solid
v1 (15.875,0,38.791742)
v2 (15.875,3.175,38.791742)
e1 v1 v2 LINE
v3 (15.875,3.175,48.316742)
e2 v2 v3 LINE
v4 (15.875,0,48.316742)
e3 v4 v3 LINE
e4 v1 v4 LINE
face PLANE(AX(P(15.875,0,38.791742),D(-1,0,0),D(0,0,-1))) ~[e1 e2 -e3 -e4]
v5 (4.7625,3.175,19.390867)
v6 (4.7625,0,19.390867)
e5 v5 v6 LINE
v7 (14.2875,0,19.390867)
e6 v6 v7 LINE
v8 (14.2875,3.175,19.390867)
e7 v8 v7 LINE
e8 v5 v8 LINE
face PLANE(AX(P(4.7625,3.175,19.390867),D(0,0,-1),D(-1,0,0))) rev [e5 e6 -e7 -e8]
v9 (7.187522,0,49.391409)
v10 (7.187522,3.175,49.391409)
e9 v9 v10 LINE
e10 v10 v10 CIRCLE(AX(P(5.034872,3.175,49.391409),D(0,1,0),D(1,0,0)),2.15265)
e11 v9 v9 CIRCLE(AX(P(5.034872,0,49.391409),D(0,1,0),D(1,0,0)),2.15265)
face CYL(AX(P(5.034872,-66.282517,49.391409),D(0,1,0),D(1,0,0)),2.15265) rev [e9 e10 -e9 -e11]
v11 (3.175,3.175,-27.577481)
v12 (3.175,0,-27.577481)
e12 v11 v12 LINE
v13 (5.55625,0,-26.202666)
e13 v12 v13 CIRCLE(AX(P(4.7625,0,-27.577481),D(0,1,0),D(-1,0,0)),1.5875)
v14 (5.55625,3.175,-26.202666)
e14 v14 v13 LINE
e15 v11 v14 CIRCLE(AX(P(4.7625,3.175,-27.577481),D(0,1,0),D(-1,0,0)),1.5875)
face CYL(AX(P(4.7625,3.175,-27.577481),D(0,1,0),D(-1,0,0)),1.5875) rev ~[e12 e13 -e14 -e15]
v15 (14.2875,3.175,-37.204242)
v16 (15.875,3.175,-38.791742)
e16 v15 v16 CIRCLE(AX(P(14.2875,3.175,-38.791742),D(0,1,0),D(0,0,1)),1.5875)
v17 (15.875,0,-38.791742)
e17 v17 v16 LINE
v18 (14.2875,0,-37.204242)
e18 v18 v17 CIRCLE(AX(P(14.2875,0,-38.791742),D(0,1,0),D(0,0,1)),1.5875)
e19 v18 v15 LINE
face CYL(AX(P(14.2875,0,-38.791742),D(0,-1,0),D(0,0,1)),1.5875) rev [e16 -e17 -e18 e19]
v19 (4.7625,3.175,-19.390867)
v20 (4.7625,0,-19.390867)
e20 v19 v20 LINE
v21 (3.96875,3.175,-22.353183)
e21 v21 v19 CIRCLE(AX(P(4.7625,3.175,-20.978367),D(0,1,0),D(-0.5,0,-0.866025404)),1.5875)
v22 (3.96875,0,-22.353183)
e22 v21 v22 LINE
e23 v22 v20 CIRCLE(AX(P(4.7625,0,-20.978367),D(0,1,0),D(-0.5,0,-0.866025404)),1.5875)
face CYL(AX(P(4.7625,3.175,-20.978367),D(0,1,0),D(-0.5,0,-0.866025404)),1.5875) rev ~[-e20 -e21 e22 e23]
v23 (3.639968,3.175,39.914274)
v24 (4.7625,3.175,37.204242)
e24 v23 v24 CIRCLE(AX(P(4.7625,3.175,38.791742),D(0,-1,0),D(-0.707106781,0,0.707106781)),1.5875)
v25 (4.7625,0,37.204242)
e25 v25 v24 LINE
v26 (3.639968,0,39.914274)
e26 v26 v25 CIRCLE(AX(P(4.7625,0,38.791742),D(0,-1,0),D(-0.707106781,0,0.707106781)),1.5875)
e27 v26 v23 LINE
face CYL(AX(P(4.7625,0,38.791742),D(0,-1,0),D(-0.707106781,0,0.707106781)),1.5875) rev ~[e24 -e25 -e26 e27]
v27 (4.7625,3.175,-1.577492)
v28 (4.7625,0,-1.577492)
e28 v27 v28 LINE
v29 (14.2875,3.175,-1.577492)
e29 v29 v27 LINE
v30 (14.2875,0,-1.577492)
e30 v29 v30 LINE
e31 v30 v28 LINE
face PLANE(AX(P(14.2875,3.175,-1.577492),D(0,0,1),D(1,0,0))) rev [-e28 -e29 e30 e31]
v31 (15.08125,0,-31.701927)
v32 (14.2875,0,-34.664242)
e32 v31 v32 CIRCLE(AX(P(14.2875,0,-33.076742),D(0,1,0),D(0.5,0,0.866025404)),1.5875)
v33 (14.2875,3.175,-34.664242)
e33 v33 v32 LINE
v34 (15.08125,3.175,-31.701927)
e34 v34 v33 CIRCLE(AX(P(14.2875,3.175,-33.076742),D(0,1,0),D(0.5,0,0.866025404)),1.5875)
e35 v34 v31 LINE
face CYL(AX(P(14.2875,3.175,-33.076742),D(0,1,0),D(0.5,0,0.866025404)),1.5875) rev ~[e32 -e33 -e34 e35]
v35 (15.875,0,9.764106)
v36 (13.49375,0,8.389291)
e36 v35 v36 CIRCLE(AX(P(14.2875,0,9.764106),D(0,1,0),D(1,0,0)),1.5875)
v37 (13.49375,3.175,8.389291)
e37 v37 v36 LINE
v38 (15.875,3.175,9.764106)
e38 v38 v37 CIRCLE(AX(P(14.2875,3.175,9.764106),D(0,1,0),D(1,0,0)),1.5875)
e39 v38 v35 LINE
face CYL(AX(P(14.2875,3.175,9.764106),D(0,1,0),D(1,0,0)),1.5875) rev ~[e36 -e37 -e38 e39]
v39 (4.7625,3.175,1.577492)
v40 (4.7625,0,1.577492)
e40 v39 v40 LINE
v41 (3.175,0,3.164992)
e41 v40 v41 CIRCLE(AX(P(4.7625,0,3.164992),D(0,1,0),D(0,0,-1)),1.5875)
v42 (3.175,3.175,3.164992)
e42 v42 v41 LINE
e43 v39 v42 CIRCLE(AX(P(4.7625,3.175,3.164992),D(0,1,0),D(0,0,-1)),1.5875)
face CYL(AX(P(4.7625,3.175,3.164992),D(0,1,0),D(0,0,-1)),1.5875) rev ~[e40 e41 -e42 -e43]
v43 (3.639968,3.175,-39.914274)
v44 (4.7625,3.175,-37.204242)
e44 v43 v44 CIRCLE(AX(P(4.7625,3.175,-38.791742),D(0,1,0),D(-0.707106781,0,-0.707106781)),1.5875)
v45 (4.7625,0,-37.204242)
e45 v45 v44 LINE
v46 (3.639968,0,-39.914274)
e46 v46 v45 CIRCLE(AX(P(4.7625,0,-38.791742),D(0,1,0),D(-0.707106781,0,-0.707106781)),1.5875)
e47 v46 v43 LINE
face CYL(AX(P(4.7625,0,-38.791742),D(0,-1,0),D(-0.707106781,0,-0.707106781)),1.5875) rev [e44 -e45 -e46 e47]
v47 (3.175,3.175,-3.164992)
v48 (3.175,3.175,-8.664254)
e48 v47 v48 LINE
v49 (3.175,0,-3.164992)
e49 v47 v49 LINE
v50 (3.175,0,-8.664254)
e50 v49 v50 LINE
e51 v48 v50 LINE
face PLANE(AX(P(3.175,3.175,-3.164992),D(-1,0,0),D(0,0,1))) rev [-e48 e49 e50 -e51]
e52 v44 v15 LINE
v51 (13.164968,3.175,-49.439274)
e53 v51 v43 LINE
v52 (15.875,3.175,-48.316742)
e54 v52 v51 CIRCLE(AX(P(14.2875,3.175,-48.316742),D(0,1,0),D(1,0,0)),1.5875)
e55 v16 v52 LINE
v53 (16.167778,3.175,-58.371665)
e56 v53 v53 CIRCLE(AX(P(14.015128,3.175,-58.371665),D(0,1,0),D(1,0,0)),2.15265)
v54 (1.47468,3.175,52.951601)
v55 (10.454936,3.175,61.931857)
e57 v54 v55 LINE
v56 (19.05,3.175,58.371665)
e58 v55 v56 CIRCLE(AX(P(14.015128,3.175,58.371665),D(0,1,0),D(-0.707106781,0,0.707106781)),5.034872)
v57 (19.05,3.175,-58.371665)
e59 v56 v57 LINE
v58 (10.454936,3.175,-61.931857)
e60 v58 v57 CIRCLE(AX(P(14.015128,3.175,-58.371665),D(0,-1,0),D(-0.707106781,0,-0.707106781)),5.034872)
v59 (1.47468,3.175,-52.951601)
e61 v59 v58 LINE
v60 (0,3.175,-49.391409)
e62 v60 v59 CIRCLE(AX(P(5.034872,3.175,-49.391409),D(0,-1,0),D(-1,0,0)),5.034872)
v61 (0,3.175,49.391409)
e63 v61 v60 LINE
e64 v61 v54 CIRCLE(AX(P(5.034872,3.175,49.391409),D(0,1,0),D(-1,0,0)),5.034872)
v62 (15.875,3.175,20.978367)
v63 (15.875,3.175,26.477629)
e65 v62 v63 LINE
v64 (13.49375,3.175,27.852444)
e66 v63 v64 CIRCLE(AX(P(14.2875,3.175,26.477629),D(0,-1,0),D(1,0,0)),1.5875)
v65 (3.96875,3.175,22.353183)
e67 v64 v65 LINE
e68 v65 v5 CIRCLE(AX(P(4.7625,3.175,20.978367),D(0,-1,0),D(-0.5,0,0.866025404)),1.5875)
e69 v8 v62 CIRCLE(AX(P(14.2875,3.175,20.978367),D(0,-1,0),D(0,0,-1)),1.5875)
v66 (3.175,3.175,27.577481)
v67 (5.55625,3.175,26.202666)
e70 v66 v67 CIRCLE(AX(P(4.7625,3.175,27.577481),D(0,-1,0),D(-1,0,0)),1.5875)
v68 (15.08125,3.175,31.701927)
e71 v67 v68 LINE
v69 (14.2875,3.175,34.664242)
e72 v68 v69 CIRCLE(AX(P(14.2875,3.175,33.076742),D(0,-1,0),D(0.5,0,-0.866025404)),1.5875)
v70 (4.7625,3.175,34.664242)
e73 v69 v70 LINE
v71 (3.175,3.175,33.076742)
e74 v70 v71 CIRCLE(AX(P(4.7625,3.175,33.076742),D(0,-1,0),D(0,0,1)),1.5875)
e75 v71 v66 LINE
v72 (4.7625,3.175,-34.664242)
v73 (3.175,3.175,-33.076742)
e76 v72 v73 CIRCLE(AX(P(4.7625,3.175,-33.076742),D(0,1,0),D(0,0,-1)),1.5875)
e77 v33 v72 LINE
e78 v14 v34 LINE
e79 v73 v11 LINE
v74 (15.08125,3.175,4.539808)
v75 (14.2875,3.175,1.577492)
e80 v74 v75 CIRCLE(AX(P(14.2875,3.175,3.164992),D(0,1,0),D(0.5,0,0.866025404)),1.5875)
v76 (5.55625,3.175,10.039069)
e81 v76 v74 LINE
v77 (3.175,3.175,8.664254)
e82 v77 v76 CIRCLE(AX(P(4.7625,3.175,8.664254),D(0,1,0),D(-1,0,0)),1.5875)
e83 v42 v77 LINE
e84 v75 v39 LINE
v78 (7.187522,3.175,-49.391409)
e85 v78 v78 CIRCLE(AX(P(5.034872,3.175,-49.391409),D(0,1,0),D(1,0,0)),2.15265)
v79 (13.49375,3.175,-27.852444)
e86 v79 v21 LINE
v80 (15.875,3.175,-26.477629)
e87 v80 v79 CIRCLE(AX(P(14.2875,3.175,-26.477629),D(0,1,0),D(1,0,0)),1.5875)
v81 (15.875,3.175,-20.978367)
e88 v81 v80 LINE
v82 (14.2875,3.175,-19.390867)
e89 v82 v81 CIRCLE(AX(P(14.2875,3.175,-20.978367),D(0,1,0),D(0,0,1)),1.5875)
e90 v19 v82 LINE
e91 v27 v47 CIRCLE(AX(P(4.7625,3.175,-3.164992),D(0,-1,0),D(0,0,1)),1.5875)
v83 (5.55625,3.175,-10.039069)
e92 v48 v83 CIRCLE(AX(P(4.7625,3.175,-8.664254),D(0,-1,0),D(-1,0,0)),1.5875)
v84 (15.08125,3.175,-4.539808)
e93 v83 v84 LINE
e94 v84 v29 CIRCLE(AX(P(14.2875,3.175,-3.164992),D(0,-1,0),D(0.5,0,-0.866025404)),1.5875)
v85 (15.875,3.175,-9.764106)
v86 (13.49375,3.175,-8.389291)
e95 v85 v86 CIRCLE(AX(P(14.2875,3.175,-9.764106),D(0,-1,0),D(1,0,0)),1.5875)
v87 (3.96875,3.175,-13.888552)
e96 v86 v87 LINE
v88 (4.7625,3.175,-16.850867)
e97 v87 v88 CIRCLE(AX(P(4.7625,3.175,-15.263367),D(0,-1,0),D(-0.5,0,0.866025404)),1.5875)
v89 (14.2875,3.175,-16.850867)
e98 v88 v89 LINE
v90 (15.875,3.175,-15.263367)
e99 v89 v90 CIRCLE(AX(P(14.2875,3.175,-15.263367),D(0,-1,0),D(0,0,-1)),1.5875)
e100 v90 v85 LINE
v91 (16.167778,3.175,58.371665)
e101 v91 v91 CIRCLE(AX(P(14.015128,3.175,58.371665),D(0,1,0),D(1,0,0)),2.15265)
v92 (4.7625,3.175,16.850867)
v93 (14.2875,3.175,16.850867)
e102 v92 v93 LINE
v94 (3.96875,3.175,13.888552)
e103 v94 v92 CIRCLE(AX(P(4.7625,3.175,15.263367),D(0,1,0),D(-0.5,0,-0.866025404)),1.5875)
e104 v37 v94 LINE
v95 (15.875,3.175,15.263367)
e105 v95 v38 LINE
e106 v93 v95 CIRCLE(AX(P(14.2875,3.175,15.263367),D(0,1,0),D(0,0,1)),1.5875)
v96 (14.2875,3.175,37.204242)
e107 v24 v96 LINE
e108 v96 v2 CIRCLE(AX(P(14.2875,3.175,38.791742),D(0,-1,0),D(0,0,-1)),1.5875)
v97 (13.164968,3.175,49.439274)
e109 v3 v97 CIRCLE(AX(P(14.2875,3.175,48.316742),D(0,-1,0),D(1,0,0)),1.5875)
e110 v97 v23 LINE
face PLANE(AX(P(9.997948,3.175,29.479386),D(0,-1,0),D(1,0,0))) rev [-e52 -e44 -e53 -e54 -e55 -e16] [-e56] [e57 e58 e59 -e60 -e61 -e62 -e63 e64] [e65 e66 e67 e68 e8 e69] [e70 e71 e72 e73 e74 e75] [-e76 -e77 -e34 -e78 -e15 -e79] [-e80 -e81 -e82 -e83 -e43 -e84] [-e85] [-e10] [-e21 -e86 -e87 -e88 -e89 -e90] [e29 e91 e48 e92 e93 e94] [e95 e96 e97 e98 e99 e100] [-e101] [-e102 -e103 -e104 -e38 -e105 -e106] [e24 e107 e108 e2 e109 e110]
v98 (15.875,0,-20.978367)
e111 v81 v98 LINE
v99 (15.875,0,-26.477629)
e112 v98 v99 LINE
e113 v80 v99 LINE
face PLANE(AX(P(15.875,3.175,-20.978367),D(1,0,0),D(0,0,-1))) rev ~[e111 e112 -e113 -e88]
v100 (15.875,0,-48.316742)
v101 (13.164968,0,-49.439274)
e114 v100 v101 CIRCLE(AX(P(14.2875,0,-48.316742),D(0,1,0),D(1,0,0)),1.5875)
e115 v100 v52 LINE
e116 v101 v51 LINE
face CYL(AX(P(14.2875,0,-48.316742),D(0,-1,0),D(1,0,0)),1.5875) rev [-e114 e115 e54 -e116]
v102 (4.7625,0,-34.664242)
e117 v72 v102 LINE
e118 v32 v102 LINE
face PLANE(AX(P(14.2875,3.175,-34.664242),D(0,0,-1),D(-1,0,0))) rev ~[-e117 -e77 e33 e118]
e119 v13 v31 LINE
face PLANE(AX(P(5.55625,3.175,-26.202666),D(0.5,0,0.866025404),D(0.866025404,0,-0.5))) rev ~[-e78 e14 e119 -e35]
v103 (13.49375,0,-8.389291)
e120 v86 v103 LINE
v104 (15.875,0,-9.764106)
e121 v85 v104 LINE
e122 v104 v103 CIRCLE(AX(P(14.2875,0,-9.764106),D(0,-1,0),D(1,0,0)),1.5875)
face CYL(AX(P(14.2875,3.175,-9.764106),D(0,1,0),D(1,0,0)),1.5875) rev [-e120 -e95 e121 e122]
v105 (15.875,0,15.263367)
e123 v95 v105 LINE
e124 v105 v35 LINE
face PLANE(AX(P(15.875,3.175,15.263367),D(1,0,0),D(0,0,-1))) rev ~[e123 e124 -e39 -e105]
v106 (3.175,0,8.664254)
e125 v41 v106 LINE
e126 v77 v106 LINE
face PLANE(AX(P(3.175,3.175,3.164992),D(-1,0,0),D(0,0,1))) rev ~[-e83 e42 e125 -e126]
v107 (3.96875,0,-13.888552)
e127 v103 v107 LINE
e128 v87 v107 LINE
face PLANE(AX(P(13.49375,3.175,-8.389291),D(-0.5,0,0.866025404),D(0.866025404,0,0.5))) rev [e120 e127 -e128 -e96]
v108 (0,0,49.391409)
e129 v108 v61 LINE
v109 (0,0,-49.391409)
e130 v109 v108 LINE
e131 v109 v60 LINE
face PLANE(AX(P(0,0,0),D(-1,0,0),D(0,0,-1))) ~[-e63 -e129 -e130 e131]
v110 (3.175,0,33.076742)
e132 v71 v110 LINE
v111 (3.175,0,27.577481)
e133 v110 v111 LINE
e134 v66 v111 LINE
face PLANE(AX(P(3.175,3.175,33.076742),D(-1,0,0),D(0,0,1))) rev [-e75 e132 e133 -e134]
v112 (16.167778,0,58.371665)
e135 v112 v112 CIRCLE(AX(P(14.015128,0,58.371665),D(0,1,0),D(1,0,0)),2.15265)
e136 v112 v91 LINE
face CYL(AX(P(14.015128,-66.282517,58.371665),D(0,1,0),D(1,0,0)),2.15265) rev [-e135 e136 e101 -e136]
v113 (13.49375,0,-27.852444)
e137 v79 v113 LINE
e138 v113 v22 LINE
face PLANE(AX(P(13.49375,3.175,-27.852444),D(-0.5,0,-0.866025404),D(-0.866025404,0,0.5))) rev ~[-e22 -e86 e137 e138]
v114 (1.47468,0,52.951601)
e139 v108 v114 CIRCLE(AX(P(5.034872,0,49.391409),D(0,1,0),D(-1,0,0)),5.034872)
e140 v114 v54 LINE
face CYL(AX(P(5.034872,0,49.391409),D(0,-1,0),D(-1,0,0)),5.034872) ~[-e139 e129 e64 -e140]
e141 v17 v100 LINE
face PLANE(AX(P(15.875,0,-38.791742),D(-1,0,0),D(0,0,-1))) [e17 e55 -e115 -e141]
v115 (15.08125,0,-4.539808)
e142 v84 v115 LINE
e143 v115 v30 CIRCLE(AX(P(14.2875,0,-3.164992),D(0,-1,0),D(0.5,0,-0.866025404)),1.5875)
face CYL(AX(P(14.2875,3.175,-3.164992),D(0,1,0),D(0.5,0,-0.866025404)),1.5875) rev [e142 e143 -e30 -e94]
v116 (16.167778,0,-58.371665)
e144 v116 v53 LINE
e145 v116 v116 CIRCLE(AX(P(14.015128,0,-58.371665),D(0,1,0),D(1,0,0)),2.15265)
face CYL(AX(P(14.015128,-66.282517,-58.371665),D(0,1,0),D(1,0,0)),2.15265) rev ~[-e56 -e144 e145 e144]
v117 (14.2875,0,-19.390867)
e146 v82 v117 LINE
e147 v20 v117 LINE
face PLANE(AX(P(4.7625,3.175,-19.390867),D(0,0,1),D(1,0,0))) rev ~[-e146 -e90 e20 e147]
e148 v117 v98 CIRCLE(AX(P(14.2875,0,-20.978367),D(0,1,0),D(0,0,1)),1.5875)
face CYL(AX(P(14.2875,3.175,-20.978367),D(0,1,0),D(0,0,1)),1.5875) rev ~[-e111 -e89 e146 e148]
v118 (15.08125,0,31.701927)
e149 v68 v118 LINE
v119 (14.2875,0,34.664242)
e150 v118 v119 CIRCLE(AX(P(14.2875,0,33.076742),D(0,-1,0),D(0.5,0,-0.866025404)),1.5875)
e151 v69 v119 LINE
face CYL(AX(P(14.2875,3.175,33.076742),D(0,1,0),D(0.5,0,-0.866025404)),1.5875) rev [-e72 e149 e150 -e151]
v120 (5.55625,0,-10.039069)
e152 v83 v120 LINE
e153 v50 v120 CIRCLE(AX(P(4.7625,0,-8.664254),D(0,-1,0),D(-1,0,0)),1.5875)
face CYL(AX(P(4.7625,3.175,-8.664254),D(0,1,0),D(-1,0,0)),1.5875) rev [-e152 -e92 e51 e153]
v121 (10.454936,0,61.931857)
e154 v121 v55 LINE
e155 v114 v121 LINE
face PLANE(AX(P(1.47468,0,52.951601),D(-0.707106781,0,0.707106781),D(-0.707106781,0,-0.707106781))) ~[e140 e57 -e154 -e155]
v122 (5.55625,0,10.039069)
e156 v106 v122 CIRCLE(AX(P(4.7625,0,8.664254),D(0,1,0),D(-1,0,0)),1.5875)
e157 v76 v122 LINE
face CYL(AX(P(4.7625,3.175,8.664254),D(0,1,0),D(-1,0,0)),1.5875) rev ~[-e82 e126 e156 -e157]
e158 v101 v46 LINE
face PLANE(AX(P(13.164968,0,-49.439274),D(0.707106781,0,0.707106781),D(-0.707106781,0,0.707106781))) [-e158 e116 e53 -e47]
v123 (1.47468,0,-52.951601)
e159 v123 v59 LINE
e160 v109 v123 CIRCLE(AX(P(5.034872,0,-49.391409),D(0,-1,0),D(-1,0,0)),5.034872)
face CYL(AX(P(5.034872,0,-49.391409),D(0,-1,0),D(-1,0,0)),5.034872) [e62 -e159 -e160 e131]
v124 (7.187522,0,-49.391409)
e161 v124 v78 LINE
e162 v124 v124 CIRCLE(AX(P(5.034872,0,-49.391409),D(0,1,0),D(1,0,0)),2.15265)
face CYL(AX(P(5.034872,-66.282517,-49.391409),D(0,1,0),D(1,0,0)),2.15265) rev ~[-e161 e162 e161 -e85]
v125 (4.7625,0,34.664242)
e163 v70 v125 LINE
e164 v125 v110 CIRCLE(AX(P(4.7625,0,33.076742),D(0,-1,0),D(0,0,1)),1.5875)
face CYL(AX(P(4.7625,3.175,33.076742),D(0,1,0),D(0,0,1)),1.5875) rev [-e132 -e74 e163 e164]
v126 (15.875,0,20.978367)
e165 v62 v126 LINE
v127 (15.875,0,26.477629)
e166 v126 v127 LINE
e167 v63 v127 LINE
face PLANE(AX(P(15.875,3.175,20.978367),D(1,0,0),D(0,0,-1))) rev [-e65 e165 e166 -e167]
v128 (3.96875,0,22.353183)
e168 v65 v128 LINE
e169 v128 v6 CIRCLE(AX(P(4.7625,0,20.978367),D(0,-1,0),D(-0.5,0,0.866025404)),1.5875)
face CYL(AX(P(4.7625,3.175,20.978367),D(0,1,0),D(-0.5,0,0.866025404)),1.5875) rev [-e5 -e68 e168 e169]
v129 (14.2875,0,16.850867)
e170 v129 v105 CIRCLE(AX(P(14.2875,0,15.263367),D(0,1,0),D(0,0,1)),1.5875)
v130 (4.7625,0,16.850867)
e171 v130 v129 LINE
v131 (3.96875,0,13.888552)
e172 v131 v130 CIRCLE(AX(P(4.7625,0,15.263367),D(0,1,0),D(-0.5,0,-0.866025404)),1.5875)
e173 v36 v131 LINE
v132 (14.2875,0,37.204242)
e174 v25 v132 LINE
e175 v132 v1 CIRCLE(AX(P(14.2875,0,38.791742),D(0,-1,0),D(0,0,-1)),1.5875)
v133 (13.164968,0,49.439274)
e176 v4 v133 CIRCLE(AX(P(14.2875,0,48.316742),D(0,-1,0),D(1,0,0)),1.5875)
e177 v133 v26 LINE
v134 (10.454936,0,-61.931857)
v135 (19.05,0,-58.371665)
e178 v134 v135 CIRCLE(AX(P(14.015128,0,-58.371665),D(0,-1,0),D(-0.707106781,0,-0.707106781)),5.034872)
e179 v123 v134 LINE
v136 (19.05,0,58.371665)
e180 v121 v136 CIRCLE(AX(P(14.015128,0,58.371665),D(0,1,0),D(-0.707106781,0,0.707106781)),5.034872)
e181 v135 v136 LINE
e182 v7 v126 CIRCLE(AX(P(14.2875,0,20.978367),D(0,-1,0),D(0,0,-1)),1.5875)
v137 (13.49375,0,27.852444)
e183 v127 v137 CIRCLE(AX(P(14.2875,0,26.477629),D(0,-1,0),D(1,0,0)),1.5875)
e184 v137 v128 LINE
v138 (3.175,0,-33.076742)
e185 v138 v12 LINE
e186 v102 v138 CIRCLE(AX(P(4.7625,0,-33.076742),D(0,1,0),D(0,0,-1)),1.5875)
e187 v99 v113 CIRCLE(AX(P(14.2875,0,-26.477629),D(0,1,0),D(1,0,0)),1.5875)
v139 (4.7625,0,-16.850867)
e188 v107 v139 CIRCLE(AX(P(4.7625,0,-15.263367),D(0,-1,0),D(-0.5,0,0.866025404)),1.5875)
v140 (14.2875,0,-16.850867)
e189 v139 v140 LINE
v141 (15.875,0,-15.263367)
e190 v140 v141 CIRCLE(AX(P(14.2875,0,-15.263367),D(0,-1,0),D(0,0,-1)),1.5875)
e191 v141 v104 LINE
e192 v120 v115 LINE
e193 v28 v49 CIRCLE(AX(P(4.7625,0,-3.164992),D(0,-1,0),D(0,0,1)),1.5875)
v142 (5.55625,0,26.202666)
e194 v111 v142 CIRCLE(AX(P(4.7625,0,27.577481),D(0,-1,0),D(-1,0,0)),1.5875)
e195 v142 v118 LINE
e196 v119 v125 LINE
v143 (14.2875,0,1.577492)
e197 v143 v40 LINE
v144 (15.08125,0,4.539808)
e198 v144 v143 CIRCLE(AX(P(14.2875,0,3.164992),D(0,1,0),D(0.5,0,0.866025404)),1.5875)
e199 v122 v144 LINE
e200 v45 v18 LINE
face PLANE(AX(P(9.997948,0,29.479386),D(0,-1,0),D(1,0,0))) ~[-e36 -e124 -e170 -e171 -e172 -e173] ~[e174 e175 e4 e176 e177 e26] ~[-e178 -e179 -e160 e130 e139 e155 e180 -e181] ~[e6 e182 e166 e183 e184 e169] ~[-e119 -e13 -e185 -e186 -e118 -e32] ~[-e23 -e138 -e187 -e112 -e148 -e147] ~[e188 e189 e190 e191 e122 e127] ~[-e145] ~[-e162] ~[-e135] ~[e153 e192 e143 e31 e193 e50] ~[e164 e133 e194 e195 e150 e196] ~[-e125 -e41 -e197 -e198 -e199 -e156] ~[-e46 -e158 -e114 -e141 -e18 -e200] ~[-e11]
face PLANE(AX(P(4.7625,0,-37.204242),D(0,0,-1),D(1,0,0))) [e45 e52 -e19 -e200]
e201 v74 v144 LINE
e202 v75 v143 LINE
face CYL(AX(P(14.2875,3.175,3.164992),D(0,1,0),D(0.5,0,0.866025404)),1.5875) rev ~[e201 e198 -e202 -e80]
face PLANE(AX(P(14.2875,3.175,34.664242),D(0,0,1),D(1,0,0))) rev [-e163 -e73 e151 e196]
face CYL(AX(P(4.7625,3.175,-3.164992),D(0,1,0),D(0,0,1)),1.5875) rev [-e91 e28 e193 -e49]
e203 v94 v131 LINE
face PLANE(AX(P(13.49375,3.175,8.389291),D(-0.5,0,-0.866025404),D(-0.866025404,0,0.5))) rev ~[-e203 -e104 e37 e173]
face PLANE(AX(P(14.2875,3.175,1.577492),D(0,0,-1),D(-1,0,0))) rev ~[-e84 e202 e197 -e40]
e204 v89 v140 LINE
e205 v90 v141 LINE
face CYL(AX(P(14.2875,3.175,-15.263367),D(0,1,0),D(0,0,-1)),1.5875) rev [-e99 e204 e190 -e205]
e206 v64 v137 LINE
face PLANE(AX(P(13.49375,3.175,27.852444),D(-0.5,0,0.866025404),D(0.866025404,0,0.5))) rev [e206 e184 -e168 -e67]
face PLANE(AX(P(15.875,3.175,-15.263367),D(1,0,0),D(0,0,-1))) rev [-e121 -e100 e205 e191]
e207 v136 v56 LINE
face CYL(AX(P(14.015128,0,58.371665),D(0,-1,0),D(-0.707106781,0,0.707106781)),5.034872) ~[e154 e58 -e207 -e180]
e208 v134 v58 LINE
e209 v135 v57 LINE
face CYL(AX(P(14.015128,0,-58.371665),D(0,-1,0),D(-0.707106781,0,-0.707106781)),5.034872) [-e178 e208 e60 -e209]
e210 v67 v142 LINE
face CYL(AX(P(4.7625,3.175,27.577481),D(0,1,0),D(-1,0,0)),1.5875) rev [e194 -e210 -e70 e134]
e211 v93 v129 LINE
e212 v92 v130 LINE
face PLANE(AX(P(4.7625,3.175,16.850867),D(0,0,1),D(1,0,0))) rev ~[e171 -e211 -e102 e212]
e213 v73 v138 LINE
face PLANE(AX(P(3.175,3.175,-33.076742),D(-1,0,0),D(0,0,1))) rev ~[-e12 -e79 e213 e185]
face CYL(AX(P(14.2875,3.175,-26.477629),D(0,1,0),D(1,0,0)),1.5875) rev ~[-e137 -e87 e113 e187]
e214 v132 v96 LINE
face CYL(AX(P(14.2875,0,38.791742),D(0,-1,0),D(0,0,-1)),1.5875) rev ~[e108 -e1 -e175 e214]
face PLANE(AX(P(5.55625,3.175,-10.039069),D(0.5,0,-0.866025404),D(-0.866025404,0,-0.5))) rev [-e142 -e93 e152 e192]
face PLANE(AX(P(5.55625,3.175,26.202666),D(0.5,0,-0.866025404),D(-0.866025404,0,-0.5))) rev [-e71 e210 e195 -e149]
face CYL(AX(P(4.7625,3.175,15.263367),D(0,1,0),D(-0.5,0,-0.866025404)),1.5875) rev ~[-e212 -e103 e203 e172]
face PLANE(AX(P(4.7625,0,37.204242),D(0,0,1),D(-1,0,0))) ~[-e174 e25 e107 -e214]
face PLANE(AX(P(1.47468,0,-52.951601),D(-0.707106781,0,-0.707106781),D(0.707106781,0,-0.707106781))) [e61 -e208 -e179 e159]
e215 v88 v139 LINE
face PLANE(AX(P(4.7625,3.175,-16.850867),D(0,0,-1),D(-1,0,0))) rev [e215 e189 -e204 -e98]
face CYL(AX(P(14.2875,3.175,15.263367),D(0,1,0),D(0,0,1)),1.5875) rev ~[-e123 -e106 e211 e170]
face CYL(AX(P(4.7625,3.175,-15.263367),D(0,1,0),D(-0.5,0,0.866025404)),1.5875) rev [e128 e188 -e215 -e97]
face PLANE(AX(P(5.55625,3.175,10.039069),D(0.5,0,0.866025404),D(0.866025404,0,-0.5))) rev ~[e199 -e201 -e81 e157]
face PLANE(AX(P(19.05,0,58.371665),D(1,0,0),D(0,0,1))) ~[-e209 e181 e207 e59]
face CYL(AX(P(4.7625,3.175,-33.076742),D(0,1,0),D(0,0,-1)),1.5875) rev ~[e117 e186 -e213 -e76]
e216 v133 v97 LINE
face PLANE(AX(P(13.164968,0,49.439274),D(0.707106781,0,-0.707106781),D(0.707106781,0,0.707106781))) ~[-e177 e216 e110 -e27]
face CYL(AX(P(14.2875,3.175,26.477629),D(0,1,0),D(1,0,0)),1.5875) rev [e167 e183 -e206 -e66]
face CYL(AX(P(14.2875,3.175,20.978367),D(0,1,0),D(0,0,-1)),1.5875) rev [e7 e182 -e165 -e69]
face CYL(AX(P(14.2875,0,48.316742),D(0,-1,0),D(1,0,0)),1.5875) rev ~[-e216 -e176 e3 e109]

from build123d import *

# Parameters (mm, degrees)
SKETCH1_R                    = 2.0828
BOSS_EXTRUDE1_DEPTH          = 3.175
F_18_0_1695_DIAMETER_HOLE1_D = 4.3053
CUT_EXTRUDE2_DEPTH           = 3.175
MIRROR1_COPY_1_DEPTH         = 3.175


with BuildPart() as part:
    # Sketch1 → Boss-Extrude1 (new body)
    with BuildSketch(Plane(origin=(0, 0, 0), x_dir=(1, 0, 0), z_dir=(0, 1, 0))):
        with BuildLine():
            Line((0, 0), (0, 49.391408666))
            ThreePointArc((0, 49.391408666), (0.383256806, 51.318170741), (1.474679849, 52.951600757))
            Line((1.474679849, 52.951600757), (10.45493597, 61.931856878))
            ThreePointArc((10.45493597, 61.931856878), (15.941890136, 63.023279921), (19.05, 58.371664787))
            Line((19.05, 58.371664787), (19.05, 0))
            Line((19.05, 0), (0, 0))
        make_face()
        with Locations(Location((14.015128061, 58.371664787, 0), (0, 0, 270))):
            Circle(SKETCH1_R, mode=Mode.SUBTRACT)
        with Locations(Location((5.034871939, 49.391408666, 0), (0, 0, 270))):
            Circle(SKETCH1_R, mode=Mode.SUBTRACT)
        with BuildLine():
            Line((13.164967985, 49.439274202), (3.639967985, 39.914274202))
            ThreePointArc((3.639967985, 39.914274202), (3.295841242, 38.184232238), (4.7625, 37.204242187))
            Line((4.7625, 37.204242187), (14.2875, 37.204242187))
            ThreePointArc((14.2875, 37.204242187), (15.410032015, 37.669210172), (15.875, 38.791742187))
            Line((15.875, 38.791742187), (15.875, 48.316742187))
            ThreePointArc((15.875, 48.316742187), (14.895009949, 49.783400945), (13.164967985, 49.439274202))
        make_face(mode=Mode.SUBTRACT)
    boss_extrude1 = extrude(amount=BOSS_EXTRUDE1_DEPTH)

    # #18 (0.1695) Diameter Hole1 (through all)
    with Locations(Plane(origin=(0, 0, 0), x_dir=(-1, 0, 0), z_dir=(0, -1, 0))):
        with Locations((-14.015128061, 58.371664787), (-5.034871939, 49.391408666)):
            f_18_0_1695_diameter_hole1 = Hole(F_18_0_1695_DIAMETER_HOLE1_D / 2)

    # Sketch5 → Cut-Extrude2 (cut)
    with BuildSketch(Plane(origin=(0, 3.175, 0), x_dir=(1, 0, 0), z_dir=(0, 1, 0))):
        with BuildLine():
            Line((14.2875, 34.664242187), (4.7625, 34.664242187))
            ThreePointArc((4.7625, 34.664242187), (3.639967985, 34.199274202), (3.175, 33.076742187))
            Line((3.175, 33.076742187), (3.175, 27.577480873))
            ThreePointArc((3.175, 27.577480873), (3.96875, 26.202665545), (5.55625, 26.202665545))
            Line((5.55625, 26.202665545), (15.08125, 31.701926859))
            ThreePointArc((15.08125, 31.701926859), (15.820907249, 33.487617421), (14.2875, 34.664242187))
        make_face()
        with BuildLine():
            Line((13.49375, 27.852443939), (3.96875, 22.353182625))
            ThreePointArc((3.96875, 22.353182625), (3.229092751, 20.567492062), (4.7625, 19.390867296))
            Line((4.7625, 19.390867296), (14.2875, 19.390867296))
            ThreePointArc((14.2875, 19.390867296), (15.410032015, 19.855835281), (15.875, 20.978367296))
            Line((15.875, 20.978367296), (15.875, 26.47762861))
            ThreePointArc((15.875, 26.47762861), (15.08125, 27.852443939), (13.49375, 27.852443939))
        make_face()
    cut_extrude2 = extrude(amount=-CUT_EXTRUDE2_DEPTH, mode=Mode.SUBTRACT)

    # Mirror2: Cut-Extrude2 across plane
    add(cut_extrude2.mirror(Plane(origin=(0, 0, -18.120867296), x_dir=(1, 0, 0), z_dir=(0, 0, -1))), mode=Mode.SUBTRACT)

    # Mirror1: Boss-Extrude1, #18 (0.1695) Diameter Hole1, Cut-Extrude2 across plane
    add(boss_extrude1.mirror(Plane(origin=(19.05, 3.175, 0), x_dir=(1, 0, 0), z_dir=(0, 0, -1))))
    add(f_18_0_1695_diameter_hole1.mirror(Plane(origin=(19.05, 3.175, 0), x_dir=(1, 0, 0), z_dir=(0, 0, -1))), mode=Mode.SUBTRACT)
    add(cut_extrude2.mirror(Plane(origin=(19.05, 3.175, 0), x_dir=(1, 0, 0), z_dir=(0, 0, -1))), mode=Mode.SUBTRACT)

    # Mirror1 copy 1 sketch → Mirror1 copy 1 (cut)
    with BuildSketch(Plane(origin=(0, 3.175, 36.241734593), x_dir=(1, 0, 0), z_dir=(0, 1, 0))):
        with BuildLine():
            Line((14.2875, 34.664242187), (4.7625, 34.664242187))
            ThreePointArc((4.7625, 34.664242187), (3.639967985, 34.199274202), (3.175, 33.076742187))
            Line((3.175, 33.076742187), (3.175, 27.577480873))
            ThreePointArc((3.175, 27.577480873), (3.96875, 26.202665545), (5.55625, 26.202665545))
            Line((5.55625, 26.202665545), (15.08125, 31.701926859))
            ThreePointArc((15.08125, 31.701926859), (15.820907249, 33.487617421), (14.2875, 34.664242187))
        make_face()
        with BuildLine():
            Line((13.49375, 27.852443939), (3.96875, 22.353182625))
            ThreePointArc((3.96875, 22.353182625), (3.229092751, 20.567492062), (4.7625, 19.390867296))
            Line((4.7625, 19.390867296), (14.2875, 19.390867296))
            ThreePointArc((14.2875, 19.390867296), (15.410032015, 19.855835281), (15.875, 20.978367296))
            Line((15.875, 20.978367296), (15.875, 26.47762861))
            ThreePointArc((15.875, 26.47762861), (15.08125, 27.852443939), (13.49375, 27.852443939))
        make_face()
    extrude(amount=-MIRROR1_COPY_1_DEPTH, mode=Mode.SUBTRACT)


solid = part.part
